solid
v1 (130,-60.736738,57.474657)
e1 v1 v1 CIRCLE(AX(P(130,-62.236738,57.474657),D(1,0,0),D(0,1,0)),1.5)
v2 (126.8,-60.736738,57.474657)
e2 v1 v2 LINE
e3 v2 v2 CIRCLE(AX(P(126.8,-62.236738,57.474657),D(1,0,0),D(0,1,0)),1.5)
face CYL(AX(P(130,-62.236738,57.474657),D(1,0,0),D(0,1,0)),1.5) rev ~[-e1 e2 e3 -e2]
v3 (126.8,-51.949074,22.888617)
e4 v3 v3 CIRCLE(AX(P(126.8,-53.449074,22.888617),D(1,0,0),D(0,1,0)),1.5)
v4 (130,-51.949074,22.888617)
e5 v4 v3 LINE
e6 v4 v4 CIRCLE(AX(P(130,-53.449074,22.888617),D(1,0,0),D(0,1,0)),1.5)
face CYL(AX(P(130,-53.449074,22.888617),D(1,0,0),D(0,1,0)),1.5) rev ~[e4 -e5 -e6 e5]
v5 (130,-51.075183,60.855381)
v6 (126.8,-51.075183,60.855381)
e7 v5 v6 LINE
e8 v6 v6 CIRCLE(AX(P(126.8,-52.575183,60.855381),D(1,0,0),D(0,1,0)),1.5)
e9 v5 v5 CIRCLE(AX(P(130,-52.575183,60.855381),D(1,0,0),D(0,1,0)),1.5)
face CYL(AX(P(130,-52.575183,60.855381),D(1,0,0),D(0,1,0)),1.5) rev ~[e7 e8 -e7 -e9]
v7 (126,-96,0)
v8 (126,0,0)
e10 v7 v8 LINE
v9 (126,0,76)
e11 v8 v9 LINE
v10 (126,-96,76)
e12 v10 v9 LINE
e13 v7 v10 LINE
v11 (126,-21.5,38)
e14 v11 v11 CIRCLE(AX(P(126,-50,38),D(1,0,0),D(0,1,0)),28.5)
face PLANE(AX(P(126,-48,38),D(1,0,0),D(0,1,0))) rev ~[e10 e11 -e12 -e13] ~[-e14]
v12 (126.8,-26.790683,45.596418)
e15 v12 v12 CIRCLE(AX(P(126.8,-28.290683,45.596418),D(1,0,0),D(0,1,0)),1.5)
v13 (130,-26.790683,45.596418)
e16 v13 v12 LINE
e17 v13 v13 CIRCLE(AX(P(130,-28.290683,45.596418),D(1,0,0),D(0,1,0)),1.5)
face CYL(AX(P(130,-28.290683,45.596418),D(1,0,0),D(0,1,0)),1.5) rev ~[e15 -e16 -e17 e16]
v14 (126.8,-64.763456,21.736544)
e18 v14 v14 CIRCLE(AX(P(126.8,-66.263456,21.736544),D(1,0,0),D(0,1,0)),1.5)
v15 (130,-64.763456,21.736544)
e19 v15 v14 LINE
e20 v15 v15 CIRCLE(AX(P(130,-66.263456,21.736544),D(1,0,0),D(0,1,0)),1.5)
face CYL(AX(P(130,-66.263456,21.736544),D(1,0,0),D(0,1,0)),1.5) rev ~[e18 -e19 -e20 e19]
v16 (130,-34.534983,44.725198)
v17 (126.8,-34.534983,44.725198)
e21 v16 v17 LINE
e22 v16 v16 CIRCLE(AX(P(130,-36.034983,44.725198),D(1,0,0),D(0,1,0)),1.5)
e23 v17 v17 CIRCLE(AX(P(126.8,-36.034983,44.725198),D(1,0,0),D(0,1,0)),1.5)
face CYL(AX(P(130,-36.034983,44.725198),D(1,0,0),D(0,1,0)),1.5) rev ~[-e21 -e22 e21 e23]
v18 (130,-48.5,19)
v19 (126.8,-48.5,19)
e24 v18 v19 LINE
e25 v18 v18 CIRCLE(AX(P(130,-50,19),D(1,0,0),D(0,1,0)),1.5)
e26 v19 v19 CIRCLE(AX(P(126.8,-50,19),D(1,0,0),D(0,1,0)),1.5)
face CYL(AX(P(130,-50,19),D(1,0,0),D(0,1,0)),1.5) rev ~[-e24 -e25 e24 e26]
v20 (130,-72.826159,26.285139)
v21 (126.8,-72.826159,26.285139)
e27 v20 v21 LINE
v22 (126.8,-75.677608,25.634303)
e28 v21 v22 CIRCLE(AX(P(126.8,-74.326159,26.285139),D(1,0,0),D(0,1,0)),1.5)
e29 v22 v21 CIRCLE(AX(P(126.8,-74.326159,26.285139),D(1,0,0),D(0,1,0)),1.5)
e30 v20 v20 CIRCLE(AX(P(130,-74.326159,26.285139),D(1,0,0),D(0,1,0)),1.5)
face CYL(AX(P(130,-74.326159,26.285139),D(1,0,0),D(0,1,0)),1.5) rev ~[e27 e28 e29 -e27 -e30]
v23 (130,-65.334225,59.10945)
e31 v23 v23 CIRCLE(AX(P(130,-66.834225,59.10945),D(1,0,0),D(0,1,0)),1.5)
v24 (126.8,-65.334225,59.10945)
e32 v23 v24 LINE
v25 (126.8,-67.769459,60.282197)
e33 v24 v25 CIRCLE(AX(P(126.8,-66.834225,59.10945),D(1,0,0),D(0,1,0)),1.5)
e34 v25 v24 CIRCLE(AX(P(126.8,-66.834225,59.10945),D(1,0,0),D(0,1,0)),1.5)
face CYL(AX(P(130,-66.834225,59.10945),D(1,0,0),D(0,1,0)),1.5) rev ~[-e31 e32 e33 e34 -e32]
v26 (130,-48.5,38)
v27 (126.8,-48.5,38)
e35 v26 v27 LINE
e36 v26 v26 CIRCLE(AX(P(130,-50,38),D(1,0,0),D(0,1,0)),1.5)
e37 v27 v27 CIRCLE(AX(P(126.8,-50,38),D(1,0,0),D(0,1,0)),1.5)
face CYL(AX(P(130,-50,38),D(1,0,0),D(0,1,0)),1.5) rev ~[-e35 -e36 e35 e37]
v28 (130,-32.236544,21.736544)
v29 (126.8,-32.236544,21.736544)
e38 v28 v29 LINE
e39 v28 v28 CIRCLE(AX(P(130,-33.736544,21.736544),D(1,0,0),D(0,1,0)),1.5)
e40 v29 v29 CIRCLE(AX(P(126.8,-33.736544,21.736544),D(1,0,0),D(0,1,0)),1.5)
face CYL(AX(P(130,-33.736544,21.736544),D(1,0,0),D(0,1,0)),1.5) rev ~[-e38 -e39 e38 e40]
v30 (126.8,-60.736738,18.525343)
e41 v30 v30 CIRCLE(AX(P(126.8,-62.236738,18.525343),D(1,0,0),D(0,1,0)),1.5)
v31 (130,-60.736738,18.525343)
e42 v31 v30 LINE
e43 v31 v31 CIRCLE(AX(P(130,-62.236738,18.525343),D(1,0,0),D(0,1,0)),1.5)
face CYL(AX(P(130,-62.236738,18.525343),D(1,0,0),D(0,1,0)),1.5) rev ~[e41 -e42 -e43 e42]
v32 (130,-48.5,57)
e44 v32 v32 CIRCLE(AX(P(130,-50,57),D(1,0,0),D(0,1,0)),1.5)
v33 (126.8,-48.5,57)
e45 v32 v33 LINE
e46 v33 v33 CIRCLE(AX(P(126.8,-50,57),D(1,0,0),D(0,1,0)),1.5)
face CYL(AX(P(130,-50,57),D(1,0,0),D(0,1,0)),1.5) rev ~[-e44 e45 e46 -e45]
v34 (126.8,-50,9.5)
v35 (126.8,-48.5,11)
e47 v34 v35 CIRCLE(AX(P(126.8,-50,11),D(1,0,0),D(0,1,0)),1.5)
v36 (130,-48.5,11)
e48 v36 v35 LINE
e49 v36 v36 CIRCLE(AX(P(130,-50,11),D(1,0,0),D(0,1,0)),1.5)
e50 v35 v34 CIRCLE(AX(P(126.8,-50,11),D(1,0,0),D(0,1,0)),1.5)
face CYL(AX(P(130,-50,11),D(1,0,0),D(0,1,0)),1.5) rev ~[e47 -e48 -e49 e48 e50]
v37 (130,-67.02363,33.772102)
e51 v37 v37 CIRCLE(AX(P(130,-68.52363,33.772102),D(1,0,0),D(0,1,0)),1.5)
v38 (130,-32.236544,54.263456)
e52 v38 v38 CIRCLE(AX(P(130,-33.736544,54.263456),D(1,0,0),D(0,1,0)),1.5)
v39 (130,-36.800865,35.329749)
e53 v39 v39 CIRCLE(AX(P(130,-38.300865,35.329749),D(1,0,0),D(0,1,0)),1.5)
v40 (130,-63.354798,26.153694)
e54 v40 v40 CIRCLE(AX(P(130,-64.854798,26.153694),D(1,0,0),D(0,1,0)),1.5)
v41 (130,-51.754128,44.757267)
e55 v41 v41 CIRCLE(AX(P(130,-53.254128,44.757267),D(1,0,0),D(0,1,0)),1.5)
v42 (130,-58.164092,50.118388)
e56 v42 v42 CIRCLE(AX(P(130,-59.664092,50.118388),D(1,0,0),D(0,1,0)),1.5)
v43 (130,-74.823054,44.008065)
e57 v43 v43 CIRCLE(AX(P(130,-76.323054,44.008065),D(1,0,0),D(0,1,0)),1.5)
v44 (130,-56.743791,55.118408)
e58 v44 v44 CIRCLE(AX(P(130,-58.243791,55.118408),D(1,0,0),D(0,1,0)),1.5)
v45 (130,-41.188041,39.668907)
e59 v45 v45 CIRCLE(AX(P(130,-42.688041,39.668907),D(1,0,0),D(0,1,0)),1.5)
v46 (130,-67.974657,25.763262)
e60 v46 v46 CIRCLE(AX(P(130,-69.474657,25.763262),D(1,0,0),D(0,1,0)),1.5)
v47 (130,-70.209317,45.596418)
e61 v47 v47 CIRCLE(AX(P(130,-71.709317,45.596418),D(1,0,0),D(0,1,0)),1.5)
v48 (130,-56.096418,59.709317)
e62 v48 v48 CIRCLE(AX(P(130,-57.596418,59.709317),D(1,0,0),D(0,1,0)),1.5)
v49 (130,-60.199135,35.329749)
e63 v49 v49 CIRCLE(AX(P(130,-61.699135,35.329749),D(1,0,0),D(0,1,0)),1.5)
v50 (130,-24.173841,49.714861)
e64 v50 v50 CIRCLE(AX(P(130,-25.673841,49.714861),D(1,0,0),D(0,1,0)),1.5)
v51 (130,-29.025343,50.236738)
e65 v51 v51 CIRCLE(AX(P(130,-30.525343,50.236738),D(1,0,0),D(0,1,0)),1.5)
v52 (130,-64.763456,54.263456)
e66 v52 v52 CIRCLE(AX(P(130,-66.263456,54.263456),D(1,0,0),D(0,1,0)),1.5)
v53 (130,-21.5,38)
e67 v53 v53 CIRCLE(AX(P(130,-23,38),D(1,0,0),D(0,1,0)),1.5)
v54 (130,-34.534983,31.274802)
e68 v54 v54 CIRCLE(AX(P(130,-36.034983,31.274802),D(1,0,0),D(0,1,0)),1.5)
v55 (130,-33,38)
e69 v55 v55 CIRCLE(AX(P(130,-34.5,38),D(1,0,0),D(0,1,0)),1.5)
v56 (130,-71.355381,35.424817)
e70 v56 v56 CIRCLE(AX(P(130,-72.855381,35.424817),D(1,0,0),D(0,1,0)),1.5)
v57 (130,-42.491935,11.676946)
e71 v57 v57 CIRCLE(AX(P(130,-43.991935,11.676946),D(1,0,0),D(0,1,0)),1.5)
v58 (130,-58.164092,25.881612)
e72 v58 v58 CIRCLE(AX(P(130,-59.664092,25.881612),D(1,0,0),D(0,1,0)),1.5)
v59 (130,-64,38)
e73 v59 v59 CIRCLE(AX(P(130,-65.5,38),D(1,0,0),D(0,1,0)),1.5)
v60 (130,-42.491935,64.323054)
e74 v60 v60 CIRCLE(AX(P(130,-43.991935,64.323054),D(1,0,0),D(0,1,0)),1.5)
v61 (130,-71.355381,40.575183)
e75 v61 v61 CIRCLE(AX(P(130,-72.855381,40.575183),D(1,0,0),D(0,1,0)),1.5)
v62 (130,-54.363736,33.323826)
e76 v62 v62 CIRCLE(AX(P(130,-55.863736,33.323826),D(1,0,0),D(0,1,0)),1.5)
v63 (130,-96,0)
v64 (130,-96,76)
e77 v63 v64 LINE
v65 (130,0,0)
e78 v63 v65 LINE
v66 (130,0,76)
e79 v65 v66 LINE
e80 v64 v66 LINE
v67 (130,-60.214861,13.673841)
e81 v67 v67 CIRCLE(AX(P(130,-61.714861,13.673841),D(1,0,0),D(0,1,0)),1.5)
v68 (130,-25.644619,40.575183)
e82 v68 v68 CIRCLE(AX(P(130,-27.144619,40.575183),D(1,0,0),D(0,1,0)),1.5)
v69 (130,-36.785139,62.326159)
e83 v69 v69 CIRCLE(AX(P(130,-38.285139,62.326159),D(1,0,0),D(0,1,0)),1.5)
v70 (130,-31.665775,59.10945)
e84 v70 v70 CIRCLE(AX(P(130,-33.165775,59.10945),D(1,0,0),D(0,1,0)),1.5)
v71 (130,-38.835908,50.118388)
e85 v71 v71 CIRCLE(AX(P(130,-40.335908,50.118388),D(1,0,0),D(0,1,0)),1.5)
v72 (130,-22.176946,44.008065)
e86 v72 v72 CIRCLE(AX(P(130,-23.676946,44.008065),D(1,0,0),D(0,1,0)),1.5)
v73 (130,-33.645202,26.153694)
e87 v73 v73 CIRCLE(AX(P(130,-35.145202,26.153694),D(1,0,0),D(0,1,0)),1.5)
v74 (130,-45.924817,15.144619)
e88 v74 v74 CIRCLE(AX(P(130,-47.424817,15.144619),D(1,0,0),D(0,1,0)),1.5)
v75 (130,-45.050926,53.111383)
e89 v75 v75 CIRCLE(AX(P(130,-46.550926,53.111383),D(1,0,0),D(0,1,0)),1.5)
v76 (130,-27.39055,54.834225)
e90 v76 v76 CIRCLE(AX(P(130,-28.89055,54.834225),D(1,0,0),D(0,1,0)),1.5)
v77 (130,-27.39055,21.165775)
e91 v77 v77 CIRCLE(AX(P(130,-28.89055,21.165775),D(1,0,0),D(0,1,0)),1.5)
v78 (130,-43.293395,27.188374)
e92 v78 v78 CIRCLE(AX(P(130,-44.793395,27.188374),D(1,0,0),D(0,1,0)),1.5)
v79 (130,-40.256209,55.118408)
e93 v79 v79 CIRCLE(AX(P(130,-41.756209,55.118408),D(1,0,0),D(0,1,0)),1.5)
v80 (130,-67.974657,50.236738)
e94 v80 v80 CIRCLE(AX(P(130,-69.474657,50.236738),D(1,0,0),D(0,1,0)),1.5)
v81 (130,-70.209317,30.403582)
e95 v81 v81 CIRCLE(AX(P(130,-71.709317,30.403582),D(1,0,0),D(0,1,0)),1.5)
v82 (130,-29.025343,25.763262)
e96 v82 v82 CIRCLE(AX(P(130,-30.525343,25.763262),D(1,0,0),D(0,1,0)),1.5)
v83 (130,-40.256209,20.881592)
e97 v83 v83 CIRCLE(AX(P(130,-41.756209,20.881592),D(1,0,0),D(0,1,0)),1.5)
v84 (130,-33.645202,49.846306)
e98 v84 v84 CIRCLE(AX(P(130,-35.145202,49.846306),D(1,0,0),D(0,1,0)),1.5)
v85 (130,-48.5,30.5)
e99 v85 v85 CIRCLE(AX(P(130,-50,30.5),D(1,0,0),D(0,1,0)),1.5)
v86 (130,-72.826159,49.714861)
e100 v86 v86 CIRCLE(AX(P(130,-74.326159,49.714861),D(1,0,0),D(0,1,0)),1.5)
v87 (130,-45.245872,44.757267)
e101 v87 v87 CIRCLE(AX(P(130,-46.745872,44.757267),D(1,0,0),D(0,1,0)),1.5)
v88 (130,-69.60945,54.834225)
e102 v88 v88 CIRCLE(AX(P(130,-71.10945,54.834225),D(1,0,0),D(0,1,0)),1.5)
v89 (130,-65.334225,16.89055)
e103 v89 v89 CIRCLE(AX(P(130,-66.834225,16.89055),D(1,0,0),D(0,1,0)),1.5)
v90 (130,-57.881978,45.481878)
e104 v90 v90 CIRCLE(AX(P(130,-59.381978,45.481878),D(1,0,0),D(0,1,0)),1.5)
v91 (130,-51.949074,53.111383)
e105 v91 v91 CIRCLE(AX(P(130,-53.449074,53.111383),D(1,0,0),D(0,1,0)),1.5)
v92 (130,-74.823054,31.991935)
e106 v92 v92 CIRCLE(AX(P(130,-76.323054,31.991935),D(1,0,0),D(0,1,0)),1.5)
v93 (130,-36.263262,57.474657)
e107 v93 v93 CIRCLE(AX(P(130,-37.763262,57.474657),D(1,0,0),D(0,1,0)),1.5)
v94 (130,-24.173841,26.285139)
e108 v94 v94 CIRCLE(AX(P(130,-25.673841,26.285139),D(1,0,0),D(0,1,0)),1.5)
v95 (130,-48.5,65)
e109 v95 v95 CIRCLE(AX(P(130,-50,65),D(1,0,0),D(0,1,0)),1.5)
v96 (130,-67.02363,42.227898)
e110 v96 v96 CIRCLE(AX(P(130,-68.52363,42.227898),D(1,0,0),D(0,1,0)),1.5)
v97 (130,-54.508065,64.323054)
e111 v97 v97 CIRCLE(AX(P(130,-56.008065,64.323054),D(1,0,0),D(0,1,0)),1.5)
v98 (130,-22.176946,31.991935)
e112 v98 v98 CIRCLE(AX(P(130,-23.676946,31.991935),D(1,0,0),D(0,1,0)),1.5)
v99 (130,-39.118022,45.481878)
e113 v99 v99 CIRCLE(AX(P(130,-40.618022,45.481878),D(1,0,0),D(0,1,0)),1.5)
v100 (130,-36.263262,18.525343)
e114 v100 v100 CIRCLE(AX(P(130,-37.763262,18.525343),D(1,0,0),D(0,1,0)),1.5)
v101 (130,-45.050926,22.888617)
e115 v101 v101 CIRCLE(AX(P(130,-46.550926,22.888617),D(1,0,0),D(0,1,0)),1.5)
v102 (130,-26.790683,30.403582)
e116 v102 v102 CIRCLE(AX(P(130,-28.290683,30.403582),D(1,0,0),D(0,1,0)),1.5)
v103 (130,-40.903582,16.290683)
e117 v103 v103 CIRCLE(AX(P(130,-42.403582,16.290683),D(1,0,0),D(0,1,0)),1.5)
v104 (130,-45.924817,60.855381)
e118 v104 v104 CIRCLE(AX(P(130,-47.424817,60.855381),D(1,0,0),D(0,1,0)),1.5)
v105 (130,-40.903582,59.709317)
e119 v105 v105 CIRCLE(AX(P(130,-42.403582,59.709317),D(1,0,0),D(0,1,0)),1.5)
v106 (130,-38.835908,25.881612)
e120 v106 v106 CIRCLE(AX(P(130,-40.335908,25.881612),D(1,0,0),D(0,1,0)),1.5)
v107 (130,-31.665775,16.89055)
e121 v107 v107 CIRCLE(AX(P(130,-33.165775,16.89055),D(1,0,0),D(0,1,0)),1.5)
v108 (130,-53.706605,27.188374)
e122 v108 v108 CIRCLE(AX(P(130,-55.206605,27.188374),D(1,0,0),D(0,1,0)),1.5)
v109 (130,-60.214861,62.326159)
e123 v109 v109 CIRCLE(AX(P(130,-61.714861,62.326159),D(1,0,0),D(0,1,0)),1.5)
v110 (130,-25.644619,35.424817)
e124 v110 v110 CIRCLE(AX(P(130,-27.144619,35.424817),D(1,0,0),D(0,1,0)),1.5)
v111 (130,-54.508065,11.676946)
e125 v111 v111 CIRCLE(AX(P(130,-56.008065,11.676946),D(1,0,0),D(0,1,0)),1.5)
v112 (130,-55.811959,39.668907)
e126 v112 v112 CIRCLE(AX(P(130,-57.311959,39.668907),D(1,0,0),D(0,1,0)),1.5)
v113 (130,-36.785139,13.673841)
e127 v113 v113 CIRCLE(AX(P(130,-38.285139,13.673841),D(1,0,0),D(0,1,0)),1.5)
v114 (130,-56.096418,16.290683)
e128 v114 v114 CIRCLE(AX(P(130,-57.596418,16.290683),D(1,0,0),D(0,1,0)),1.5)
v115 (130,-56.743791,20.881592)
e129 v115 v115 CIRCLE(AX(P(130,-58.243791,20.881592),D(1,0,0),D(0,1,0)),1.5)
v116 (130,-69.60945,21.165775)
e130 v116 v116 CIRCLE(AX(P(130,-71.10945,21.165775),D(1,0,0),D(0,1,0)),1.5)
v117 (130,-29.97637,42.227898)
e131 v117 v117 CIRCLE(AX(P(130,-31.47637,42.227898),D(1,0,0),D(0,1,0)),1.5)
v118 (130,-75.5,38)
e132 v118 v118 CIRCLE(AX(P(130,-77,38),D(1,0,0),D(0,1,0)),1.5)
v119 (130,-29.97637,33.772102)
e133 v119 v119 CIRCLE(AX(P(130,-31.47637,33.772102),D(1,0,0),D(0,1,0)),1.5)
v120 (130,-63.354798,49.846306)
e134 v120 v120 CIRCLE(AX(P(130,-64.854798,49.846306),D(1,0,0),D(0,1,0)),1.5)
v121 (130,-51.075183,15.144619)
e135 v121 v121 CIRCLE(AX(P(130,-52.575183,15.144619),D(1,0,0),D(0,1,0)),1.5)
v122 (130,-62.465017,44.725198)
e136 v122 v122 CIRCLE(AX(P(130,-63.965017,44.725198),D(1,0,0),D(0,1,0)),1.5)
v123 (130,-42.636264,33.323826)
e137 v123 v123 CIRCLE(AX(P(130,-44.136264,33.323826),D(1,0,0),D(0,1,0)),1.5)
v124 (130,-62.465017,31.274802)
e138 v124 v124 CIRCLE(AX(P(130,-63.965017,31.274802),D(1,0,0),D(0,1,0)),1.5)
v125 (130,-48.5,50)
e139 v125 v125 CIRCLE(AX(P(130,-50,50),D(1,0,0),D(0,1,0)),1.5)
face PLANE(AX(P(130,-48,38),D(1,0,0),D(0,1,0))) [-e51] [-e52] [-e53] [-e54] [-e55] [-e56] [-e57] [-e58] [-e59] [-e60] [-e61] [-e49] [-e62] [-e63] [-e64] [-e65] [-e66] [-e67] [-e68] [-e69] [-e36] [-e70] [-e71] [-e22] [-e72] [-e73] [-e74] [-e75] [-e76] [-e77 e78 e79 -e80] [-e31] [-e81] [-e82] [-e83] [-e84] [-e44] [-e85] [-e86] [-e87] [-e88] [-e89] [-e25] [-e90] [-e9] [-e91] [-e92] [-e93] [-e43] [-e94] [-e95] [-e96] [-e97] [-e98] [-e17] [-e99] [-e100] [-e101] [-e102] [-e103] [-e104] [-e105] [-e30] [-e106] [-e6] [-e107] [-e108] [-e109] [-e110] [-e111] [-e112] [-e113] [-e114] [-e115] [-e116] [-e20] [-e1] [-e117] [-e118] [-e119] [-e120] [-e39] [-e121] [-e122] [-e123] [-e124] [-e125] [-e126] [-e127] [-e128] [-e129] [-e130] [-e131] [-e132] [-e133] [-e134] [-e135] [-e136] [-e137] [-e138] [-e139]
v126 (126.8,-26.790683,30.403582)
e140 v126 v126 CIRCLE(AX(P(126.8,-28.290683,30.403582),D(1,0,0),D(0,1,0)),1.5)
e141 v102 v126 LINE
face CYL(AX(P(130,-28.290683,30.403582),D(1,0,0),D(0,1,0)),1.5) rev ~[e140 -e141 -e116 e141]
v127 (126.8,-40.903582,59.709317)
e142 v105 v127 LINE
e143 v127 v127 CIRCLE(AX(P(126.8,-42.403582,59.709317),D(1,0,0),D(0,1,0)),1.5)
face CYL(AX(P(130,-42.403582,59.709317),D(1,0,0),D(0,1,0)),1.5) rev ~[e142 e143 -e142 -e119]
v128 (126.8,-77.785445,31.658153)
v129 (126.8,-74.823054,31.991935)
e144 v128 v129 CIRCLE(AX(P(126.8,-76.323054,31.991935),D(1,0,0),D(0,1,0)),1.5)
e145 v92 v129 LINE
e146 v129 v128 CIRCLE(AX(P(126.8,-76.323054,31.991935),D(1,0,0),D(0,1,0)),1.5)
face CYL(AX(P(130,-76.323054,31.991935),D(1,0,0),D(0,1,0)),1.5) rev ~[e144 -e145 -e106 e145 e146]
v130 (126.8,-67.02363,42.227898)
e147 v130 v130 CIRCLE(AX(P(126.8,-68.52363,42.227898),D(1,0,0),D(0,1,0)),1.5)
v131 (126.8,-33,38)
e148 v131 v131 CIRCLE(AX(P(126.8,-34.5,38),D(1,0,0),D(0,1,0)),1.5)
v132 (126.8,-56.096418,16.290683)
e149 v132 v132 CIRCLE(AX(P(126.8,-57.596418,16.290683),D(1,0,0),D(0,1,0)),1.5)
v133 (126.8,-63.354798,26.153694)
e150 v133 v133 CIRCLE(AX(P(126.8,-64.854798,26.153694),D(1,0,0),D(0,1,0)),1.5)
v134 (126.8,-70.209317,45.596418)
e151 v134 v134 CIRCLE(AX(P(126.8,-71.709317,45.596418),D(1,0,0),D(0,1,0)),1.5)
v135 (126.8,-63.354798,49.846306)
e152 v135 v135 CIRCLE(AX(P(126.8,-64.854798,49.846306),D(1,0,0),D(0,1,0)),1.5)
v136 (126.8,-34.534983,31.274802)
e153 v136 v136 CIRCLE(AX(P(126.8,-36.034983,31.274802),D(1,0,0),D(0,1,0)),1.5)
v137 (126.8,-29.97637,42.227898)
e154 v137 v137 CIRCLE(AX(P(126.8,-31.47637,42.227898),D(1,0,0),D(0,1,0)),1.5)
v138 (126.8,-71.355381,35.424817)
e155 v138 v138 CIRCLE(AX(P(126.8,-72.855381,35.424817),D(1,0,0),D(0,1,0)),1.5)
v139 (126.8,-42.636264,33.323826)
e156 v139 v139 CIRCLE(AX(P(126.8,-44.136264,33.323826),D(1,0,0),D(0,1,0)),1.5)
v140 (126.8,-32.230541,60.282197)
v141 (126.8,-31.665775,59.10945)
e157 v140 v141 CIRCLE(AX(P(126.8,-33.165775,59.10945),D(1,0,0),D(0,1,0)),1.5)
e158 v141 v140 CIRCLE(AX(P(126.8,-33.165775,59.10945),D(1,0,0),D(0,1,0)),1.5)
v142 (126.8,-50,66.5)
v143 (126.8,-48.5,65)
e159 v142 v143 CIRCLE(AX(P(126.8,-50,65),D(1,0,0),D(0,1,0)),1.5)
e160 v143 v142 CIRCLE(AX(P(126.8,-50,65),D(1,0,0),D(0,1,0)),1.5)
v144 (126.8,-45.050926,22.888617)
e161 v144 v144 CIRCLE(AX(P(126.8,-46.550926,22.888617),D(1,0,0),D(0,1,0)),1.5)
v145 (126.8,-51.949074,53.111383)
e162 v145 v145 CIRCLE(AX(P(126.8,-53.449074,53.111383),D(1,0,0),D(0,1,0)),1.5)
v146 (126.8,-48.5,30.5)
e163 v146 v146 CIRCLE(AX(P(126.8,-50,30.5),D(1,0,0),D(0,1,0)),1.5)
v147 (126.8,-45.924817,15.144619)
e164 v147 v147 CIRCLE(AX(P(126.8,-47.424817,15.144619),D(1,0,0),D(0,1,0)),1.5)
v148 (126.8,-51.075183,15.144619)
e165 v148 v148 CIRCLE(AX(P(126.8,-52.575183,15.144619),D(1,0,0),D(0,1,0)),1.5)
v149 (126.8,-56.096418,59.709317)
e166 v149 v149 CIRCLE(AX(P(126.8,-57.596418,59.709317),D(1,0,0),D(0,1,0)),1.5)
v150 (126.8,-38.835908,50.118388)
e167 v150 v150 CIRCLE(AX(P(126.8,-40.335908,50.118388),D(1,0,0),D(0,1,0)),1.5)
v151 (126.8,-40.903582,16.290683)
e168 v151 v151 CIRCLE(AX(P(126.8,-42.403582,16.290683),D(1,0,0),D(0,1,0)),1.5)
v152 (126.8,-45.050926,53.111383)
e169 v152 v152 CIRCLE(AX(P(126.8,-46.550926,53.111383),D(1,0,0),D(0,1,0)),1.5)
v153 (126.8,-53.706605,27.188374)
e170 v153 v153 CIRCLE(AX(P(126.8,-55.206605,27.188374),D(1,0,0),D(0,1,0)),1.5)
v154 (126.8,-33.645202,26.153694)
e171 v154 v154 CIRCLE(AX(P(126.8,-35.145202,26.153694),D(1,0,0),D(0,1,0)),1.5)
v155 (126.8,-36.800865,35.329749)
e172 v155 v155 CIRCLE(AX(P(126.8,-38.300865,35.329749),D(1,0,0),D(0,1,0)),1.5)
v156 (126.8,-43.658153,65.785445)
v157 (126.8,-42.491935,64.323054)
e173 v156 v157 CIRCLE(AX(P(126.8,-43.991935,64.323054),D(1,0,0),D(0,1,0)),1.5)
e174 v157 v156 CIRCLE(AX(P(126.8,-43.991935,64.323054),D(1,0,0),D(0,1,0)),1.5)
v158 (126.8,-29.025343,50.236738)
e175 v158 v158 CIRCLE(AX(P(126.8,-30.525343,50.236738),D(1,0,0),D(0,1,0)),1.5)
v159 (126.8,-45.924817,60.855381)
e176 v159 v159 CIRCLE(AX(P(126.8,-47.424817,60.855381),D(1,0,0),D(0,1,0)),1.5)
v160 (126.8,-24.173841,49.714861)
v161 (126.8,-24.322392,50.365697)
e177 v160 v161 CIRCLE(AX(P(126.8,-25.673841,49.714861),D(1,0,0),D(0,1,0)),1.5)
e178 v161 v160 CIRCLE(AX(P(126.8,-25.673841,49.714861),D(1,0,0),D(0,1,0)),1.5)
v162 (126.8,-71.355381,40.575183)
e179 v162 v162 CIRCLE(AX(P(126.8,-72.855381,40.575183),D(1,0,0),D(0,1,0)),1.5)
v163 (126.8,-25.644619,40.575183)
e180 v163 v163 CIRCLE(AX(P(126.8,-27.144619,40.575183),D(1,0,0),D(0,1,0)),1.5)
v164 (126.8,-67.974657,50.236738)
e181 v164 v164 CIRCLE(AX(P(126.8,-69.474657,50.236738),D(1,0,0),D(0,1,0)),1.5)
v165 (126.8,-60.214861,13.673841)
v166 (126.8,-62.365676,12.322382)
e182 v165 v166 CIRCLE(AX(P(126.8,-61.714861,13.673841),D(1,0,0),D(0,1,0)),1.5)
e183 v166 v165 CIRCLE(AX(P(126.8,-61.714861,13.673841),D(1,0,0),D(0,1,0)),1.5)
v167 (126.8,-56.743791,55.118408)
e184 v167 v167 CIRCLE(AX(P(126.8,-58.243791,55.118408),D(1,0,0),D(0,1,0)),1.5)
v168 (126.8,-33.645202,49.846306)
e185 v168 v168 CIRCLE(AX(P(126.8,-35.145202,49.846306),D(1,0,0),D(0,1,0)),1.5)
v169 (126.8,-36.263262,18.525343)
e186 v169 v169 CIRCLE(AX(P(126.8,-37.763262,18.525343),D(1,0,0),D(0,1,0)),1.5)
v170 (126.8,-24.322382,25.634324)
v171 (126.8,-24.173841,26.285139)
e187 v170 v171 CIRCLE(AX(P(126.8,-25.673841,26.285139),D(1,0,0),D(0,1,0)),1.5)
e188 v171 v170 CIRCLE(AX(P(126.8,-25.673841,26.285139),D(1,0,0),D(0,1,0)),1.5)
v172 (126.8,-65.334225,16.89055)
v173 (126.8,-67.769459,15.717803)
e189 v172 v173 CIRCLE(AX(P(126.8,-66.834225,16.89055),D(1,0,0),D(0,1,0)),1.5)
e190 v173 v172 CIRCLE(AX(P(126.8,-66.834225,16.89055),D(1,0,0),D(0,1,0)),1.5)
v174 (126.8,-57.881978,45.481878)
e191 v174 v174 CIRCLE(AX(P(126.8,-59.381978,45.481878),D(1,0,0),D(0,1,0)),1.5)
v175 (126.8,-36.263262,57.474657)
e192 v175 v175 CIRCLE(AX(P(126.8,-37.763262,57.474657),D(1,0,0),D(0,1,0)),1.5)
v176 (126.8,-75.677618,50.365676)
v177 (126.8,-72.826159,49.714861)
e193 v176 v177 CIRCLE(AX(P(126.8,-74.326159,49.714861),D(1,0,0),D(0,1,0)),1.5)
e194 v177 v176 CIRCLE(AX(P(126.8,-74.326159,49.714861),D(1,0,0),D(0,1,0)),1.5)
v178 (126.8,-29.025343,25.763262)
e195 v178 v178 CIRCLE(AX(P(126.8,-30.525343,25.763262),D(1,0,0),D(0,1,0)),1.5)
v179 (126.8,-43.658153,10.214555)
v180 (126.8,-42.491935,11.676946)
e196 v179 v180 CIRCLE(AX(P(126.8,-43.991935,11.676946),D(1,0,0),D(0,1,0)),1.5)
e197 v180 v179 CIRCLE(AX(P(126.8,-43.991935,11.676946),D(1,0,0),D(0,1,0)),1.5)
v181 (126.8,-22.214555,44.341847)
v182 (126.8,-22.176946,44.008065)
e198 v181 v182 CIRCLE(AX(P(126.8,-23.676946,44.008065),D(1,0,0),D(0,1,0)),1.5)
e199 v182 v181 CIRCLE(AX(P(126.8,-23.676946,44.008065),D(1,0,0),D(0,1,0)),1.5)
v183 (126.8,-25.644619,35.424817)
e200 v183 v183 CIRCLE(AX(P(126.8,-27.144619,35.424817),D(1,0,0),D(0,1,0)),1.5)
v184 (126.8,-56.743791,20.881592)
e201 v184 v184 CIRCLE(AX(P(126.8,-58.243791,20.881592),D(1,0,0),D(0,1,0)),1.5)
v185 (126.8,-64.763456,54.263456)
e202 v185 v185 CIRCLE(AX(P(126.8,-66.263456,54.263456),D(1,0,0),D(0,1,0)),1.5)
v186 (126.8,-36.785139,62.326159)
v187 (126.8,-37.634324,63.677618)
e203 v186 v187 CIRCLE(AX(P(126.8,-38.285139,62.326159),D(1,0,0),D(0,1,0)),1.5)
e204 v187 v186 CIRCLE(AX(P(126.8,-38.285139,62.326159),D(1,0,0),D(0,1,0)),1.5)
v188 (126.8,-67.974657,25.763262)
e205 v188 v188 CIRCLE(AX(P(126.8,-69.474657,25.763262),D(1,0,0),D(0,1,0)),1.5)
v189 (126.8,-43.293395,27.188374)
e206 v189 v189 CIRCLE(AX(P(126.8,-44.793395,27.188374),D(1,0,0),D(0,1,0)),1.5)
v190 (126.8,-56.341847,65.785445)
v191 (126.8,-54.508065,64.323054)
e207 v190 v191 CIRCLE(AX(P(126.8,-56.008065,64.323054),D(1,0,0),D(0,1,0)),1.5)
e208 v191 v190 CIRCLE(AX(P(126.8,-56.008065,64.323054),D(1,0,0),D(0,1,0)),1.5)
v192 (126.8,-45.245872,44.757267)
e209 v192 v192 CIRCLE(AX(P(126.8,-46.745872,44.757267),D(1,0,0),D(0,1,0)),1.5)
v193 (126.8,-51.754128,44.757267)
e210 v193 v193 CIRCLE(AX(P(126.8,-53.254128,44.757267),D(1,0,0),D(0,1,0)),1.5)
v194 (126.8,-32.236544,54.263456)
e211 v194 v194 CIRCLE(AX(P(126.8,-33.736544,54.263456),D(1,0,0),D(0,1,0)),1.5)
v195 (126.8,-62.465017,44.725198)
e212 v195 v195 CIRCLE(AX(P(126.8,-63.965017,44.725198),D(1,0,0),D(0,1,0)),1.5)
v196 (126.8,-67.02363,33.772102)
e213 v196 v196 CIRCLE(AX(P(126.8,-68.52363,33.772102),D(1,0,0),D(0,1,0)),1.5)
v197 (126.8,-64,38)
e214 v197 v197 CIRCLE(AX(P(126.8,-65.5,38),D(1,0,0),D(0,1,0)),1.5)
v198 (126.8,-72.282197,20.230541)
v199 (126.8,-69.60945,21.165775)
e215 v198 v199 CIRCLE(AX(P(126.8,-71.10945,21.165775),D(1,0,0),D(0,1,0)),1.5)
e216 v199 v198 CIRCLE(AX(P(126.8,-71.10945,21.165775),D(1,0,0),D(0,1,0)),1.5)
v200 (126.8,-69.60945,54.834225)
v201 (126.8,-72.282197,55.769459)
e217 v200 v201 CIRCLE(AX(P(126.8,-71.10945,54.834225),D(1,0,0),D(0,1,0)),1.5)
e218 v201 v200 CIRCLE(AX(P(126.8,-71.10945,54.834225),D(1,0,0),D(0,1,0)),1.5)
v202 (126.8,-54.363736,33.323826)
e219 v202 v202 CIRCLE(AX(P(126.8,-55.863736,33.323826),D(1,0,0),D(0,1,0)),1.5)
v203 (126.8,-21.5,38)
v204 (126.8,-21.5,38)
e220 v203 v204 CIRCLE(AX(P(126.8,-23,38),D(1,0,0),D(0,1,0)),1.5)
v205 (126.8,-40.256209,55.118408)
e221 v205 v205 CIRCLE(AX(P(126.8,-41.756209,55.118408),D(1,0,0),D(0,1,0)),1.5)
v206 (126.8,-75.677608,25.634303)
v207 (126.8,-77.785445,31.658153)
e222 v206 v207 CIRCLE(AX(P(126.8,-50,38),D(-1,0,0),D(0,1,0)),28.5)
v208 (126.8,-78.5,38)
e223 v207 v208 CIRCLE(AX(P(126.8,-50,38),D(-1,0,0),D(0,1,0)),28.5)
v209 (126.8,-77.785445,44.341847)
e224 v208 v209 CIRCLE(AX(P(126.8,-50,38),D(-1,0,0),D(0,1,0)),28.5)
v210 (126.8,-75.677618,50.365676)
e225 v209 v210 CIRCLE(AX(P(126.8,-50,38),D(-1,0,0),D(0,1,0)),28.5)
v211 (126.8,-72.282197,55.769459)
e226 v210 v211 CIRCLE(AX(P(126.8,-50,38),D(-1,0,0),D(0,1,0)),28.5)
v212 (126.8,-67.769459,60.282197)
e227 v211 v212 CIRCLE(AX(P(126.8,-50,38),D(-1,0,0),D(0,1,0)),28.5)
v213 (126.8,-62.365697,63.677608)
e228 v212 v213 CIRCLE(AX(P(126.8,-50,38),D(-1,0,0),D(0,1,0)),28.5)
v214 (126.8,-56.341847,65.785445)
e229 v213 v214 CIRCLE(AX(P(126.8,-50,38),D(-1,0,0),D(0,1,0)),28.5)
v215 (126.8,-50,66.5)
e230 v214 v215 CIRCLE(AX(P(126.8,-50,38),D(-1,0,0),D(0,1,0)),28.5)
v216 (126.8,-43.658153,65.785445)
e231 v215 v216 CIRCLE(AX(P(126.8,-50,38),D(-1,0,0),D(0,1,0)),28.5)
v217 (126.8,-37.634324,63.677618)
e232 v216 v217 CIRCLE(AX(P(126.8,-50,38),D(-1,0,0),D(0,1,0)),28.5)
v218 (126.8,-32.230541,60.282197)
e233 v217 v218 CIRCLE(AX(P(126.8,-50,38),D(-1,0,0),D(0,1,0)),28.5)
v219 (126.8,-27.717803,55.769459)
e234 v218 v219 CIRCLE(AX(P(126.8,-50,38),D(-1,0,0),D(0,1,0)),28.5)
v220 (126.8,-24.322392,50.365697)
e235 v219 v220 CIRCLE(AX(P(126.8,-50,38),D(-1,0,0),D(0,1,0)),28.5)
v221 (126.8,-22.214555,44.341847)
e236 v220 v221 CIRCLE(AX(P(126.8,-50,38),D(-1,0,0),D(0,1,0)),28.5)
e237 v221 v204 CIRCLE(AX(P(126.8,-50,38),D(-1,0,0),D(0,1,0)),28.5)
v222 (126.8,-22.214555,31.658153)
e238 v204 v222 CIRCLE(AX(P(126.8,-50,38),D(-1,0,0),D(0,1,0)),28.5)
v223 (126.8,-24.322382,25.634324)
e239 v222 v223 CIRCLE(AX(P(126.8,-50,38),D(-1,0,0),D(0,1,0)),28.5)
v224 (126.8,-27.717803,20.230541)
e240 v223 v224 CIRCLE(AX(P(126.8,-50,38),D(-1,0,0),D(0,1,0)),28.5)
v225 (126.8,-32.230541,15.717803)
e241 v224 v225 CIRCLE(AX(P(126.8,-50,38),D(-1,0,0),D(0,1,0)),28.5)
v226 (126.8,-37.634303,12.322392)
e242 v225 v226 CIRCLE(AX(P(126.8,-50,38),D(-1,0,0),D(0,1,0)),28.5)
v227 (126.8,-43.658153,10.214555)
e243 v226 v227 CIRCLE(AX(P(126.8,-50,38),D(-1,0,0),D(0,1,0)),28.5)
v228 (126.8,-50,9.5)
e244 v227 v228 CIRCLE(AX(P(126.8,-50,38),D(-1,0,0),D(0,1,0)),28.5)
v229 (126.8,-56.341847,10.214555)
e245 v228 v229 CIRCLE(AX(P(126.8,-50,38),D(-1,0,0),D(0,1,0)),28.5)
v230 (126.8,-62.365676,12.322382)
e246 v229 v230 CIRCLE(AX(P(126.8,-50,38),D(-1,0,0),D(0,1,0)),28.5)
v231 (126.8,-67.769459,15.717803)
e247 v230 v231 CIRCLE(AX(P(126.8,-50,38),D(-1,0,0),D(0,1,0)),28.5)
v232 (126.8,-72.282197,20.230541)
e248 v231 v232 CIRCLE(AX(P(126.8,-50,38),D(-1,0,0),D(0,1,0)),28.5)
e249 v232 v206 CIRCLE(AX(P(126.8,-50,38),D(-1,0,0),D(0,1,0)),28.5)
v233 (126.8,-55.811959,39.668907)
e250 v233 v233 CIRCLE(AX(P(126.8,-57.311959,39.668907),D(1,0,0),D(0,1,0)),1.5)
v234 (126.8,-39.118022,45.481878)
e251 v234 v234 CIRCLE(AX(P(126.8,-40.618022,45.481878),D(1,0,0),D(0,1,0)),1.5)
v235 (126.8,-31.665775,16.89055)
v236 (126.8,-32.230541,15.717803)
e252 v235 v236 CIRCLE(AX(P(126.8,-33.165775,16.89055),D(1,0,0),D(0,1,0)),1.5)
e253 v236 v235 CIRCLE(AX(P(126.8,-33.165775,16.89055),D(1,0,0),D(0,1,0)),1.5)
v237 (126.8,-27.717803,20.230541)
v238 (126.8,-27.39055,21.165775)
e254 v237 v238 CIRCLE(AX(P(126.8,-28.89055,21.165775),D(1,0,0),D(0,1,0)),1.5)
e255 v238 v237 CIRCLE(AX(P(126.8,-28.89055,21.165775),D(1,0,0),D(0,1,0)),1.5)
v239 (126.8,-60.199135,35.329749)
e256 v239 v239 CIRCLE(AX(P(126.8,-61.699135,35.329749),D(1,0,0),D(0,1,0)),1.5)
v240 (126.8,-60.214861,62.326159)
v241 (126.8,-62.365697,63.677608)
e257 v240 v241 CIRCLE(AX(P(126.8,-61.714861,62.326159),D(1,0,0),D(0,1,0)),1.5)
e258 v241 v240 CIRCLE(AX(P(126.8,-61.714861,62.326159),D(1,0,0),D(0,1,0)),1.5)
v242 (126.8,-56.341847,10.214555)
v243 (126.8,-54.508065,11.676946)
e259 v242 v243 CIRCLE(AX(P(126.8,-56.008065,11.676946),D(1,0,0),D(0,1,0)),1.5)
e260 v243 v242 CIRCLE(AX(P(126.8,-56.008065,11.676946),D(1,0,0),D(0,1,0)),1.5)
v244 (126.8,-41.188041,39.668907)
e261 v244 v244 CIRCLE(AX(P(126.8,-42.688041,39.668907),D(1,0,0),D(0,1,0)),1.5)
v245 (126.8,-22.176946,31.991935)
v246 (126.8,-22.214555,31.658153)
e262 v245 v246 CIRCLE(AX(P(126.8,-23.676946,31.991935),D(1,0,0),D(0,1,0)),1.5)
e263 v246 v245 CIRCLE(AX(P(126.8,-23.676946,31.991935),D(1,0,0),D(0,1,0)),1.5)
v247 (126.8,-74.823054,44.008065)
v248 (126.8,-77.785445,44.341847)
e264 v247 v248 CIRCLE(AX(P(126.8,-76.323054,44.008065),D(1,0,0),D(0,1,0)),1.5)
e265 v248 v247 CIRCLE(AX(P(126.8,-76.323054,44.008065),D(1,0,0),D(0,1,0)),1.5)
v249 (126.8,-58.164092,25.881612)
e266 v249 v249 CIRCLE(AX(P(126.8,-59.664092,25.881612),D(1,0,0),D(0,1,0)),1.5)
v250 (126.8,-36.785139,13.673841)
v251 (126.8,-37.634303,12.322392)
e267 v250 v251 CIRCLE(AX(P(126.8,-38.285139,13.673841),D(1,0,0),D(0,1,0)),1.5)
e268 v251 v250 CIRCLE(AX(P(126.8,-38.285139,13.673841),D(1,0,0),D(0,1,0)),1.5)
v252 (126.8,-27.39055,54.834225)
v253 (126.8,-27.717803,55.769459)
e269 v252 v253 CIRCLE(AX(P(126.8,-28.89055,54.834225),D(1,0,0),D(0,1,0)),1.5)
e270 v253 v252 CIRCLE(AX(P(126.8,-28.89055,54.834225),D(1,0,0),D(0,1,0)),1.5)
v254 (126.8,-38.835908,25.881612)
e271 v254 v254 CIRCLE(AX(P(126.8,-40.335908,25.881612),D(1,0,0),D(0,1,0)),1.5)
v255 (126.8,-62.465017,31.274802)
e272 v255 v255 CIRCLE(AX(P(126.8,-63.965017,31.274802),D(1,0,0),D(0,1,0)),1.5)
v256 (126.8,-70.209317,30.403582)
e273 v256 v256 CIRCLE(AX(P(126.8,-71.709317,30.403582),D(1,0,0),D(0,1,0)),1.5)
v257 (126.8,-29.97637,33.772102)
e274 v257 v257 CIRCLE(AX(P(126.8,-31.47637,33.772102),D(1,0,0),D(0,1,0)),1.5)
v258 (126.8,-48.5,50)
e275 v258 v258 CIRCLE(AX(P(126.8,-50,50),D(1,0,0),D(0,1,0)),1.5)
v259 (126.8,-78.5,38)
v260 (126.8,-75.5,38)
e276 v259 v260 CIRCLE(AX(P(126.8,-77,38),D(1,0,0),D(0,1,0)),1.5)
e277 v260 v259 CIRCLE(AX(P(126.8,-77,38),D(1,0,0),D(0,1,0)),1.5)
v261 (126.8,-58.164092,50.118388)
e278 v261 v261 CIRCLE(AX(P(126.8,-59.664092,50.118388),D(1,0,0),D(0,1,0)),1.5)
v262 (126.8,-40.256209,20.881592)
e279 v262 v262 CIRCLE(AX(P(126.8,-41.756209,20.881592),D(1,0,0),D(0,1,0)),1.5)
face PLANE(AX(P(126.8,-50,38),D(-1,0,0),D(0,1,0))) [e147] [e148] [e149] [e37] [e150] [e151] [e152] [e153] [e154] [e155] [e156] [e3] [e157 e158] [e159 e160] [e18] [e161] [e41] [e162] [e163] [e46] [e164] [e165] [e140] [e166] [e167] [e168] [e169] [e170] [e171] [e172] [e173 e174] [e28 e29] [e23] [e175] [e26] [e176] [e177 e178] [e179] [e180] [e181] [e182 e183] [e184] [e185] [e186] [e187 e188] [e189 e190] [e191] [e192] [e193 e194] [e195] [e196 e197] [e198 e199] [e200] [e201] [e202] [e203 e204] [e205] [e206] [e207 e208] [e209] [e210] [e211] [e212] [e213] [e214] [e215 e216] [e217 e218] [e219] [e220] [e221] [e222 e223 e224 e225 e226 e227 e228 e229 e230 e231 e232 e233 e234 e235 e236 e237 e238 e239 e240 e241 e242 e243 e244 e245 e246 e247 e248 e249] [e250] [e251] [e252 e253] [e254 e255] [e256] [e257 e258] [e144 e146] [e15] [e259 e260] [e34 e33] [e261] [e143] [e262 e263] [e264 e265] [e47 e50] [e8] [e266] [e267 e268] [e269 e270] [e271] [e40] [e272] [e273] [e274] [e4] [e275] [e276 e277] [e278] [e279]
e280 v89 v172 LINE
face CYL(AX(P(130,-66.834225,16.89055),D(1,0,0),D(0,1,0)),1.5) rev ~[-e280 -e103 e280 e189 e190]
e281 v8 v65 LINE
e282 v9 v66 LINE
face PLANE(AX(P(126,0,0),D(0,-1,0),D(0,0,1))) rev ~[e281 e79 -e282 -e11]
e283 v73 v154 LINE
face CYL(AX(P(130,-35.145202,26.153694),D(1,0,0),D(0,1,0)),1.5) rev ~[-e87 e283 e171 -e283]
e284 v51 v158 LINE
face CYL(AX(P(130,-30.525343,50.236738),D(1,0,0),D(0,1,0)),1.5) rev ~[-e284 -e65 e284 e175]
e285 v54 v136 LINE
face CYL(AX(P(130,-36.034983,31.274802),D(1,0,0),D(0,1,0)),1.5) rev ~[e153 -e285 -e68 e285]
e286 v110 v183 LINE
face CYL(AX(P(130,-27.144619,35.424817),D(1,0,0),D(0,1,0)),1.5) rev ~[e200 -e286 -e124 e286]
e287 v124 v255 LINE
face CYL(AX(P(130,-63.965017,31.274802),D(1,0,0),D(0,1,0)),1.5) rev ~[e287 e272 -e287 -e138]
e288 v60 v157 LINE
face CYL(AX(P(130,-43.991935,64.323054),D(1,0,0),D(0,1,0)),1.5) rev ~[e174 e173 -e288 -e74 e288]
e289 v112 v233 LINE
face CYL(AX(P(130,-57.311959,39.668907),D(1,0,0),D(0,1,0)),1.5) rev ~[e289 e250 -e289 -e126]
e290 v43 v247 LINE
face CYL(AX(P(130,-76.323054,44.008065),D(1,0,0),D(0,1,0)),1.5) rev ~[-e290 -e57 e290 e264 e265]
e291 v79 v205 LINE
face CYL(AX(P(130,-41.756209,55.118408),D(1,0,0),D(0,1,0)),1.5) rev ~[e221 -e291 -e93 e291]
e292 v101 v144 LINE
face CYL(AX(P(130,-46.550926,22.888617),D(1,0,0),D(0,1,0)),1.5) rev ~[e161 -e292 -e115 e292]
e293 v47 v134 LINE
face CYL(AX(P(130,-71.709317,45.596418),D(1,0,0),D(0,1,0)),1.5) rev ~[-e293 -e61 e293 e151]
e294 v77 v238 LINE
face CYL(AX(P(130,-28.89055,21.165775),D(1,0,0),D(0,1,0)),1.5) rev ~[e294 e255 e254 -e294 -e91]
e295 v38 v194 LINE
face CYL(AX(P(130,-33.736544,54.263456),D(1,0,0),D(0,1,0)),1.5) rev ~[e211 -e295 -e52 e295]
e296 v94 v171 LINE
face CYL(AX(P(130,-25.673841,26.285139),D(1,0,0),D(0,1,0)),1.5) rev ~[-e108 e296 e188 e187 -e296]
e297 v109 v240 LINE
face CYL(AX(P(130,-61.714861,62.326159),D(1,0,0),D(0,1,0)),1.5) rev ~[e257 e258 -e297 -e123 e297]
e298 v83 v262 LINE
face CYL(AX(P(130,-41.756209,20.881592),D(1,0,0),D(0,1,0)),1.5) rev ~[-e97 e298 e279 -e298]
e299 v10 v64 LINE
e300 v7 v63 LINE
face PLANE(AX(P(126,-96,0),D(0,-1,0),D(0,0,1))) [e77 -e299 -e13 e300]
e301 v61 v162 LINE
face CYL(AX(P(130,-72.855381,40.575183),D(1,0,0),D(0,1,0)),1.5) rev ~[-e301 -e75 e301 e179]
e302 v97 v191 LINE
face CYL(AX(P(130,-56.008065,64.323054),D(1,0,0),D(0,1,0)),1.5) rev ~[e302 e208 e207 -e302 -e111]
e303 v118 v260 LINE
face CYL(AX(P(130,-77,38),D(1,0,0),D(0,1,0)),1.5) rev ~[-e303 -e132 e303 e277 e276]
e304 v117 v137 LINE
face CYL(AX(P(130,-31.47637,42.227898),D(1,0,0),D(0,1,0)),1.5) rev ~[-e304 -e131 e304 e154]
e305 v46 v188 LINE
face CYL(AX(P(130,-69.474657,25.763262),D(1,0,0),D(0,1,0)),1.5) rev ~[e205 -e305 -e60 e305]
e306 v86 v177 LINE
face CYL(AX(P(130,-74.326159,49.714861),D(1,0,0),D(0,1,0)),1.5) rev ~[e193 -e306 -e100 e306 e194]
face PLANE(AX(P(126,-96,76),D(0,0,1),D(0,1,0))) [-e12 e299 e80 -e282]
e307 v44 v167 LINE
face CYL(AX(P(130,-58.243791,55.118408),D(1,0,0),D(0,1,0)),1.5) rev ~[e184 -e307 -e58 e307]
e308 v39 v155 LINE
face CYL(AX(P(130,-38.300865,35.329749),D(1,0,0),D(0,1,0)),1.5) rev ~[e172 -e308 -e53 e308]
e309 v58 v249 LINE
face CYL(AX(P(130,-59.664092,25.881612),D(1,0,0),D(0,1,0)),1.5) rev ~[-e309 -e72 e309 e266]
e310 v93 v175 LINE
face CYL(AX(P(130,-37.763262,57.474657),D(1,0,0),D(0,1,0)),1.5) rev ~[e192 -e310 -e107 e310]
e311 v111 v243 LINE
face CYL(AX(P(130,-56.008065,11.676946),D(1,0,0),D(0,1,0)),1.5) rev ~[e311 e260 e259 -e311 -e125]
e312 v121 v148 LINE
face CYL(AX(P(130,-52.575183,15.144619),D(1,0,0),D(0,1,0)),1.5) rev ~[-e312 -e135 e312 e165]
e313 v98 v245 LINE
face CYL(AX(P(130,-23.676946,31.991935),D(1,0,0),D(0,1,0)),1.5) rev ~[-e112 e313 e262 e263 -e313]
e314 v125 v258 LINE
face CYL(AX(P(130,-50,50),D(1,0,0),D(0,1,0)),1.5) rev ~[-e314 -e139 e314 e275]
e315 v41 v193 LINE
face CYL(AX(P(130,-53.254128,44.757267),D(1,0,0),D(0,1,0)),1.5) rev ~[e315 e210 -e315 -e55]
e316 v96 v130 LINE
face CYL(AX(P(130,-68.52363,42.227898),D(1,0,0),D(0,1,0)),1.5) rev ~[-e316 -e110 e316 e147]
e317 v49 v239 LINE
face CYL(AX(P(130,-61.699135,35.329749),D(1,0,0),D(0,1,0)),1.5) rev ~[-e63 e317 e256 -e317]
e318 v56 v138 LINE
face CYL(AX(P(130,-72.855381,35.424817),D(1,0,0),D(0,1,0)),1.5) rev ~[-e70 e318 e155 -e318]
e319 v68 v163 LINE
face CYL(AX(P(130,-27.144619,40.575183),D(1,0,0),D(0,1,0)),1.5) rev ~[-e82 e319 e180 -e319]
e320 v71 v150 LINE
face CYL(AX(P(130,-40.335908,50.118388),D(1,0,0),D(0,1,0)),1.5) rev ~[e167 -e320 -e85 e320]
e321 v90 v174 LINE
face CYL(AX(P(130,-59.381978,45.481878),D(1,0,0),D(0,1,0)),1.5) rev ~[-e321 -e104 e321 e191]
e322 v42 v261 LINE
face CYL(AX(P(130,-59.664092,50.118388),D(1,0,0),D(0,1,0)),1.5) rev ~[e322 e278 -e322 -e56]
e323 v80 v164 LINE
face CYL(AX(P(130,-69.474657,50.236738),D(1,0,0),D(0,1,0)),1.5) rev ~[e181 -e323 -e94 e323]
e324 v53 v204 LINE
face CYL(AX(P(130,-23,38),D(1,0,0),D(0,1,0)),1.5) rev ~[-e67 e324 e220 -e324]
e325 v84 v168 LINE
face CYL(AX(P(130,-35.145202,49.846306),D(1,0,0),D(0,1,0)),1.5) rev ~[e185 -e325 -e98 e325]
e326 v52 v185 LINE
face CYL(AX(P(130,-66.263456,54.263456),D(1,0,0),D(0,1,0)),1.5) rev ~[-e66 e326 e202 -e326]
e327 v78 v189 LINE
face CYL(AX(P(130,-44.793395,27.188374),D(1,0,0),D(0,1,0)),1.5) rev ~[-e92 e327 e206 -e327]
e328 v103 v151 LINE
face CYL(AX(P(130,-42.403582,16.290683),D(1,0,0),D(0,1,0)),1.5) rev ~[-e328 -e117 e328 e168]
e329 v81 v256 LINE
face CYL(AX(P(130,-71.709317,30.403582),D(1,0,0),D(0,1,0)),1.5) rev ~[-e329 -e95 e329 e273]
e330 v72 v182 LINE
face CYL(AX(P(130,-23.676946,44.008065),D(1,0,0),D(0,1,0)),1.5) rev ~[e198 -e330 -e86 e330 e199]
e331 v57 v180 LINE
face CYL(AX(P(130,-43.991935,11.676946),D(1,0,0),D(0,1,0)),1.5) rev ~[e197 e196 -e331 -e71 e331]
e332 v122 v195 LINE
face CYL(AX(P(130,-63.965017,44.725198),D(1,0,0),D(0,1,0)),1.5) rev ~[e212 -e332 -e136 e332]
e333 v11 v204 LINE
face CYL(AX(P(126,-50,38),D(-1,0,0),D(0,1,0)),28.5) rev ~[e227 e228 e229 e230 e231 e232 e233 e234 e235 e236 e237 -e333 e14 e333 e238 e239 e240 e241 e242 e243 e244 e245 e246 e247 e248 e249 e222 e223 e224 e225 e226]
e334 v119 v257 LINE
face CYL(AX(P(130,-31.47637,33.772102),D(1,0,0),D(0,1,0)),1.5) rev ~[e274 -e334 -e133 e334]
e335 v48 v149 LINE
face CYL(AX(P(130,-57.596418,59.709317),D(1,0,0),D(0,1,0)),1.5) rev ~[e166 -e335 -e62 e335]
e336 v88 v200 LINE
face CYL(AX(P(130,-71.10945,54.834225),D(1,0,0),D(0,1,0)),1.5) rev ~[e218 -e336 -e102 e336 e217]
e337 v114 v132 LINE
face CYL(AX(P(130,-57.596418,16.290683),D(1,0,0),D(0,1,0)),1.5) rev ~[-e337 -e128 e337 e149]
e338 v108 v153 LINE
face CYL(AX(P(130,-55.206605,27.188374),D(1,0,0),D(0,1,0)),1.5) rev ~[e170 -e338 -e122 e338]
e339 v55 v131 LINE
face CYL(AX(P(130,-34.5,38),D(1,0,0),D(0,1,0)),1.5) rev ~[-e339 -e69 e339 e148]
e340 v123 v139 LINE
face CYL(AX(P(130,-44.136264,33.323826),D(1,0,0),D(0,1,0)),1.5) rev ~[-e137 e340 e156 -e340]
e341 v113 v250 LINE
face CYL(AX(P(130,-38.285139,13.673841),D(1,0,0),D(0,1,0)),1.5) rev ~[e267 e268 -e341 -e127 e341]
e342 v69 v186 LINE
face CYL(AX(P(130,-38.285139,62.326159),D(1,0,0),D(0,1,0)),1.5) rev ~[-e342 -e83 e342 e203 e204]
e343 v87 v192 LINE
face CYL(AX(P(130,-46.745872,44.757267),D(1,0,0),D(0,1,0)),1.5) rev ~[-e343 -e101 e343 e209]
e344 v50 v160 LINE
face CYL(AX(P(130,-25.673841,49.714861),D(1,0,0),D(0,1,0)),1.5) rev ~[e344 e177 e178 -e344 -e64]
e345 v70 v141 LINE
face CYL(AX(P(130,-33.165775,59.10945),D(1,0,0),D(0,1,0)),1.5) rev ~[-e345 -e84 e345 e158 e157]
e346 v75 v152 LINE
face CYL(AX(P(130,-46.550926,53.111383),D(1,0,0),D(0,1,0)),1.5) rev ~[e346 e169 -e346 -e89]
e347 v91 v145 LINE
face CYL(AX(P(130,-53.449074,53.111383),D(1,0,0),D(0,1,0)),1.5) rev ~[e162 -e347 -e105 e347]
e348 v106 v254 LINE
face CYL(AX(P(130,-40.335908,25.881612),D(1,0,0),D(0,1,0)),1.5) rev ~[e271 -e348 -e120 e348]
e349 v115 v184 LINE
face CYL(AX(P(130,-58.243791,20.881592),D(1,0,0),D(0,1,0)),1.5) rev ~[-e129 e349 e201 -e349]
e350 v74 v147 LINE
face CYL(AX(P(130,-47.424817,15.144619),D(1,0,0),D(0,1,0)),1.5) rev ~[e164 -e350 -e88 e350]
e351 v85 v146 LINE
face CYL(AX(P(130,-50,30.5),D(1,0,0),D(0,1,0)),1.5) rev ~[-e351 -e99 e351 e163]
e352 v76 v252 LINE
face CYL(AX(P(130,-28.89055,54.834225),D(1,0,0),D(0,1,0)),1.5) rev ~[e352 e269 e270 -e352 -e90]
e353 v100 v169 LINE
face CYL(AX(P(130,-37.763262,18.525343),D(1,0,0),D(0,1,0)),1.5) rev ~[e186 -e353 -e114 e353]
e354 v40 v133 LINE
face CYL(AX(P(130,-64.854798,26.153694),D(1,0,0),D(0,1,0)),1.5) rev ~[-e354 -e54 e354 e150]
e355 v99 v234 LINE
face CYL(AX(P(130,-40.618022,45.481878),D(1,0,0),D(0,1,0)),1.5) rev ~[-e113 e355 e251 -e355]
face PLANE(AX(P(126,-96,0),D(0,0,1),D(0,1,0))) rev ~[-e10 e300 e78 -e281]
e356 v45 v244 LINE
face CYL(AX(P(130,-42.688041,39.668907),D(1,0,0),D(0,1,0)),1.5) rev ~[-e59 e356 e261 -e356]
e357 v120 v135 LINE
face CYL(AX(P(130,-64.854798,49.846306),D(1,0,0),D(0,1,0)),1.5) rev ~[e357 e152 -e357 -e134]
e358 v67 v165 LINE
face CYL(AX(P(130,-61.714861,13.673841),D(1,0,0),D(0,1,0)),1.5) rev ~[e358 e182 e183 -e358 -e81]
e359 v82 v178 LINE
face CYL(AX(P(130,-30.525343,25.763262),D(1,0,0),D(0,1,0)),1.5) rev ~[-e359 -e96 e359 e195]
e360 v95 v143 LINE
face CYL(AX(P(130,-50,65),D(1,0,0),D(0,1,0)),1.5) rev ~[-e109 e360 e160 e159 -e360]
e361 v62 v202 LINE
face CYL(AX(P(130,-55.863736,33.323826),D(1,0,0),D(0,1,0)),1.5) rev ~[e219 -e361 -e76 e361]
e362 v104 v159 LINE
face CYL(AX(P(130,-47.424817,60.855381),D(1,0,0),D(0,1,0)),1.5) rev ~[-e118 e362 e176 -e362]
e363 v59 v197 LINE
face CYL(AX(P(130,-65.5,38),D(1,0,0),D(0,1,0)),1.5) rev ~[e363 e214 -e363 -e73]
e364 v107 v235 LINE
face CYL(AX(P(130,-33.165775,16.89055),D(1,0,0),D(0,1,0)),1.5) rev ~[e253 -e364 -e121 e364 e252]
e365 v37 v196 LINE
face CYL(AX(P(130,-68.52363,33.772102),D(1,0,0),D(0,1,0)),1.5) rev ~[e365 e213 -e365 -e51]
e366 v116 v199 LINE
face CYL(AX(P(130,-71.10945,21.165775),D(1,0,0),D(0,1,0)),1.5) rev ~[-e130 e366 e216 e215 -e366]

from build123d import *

# Parameters (mm, degrees)
SKETCH009_W     = 96
SKETCH009_H     = 76
PAD004_DEPTH    = 4
SKETCH012_R     = 28.5
POCKET002_DEPTH = 0.8
SKETCH010_R     = 1.5
HOLE003_DEPTH   = 4.001


with BuildPart() as part:
    # Sketch009 → Pad004 (new body)
    with BuildSketch(Plane.YZ.offset(126)):
        with Locations((-48, 38)):
            Rectangle(SKETCH009_W, SKETCH009_H)
    extrude(amount=PAD004_DEPTH)

    # Sketch012 (on Face4 of Hole003) → Pocket002 (cut)
    with BuildSketch(Plane(origin=(126, 0, 0), x_dir=(0, 1, 0), z_dir=(-1, 0, 0))):
        with Locations((-50, -38)):
            Circle(SKETCH012_R)
    extrude(amount=-POCKET002_DEPTH, mode=Mode.SUBTRACT)

    # Sketch010 (on Face6 of Pad004) → Hole003 (cut, through all)
    with BuildSketch(Plane.YZ.offset(130)):
        with Locations((-50, 65)):
            Circle(SKETCH010_R)
        with Locations((-43.9919347832, 64.3230536289)):
            Circle(SKETCH010_R)
        with Locations((-38.2851390438, 62.3261594334)):
            Circle(SKETCH010_R)
        with Locations((-33.1657753498, 59.1094500266)):
            Circle(SKETCH010_R)
        with Locations((-28.8905499734, 54.8342246502)):
            Circle(SKETCH010_R)
        with Locations((-25.6738405666, 49.7148609562)):
            Circle(SKETCH010_R)
        with Locations((-23.6769463711, 44.0080652168)):
            Circle(SKETCH010_R)
        with Locations((-23, 38)):
            Circle(SKETCH010_R)
        with Locations((-23.6769463711, 31.9919347832)):
            Circle(SKETCH010_R)
        with Locations((-25.6738405666, 26.2851390438)):
            Circle(SKETCH010_R)
        with Locations((-28.8905499734, 21.1657753498)):
            Circle(SKETCH010_R)
        with Locations((-33.1657753498, 16.8905499734)):
            Circle(SKETCH010_R)
        with Locations((-38.2851390438, 13.6738405666)):
            Circle(SKETCH010_R)
        with Locations((-43.9919347832, 11.6769463711)):
            Circle(SKETCH010_R)
        with Locations((-50, 11)):
            Circle(SKETCH010_R)
        with Locations((-56.0080652168, 11.6769463711)):
            Circle(SKETCH010_R)
        with Locations((-61.7148609562, 13.6738405666)):
            Circle(SKETCH010_R)
        with Locations((-66.8342246502, 16.8905499734)):
            Circle(SKETCH010_R)
        with Locations((-71.1094500266, 21.1657753498)):
            Circle(SKETCH010_R)
        with Locations((-74.3261594334, 26.2851390438)):
            Circle(SKETCH010_R)
        with Locations((-76.3230536289, 31.9919347832)):
            Circle(SKETCH010_R)
        with Locations((-77, 38)):
            Circle(SKETCH010_R)
        with Locations((-76.3230536289, 44.0080652168)):
            Circle(SKETCH010_R)
        with Locations((-74.3261594334, 49.7148609562)):
            Circle(SKETCH010_R)
        with Locations((-71.1094500266, 54.8342246502)):
            Circle(SKETCH010_R)
        with Locations((-66.8342246502, 59.1094500266)):
            Circle(SKETCH010_R)
        with Locations((-61.7148609562, 62.3261594334)):
            Circle(SKETCH010_R)
        with Locations((-56.0080652168, 64.3230536289)):
            Circle(SKETCH010_R)
        with Locations((-47.4248170496, 60.8553808275)):
            Circle(SKETCH010_R)
        with Locations((-42.403581575, 59.7093165971)):
            Circle(SKETCH010_R)
        with Locations((-37.7632622401, 57.4746565823)):
            Circle(SKETCH010_R)
        with Locations((-33.7365440327, 54.2634559673)):
            Circle(SKETCH010_R)
        with Locations((-30.5253434177, 50.2367377599)):
            Circle(SKETCH010_R)
        with Locations((-28.2906834029, 45.596418425)):
            Circle(SKETCH010_R)
        with Locations((-27.1446191725, 40.5751829504)):
            Circle(SKETCH010_R)
        with Locations((-27.1446191725, 35.4248170496)):
            Circle(SKETCH010_R)
        with Locations((-28.2906834029, 30.403581575)):
            Circle(SKETCH010_R)
        with Locations((-30.5253434177, 25.7632622401)):
            Circle(SKETCH010_R)
        with Locations((-33.7365440327, 21.7365440327)):
            Circle(SKETCH010_R)
        with Locations((-37.7632622401, 18.5253434177)):
            Circle(SKETCH010_R)
        with Locations((-42.403581575, 16.2906834029)):
            Circle(SKETCH010_R)
        with Locations((-47.4248170496, 15.1446191725)):
            Circle(SKETCH010_R)
        with Locations((-52.5751829504, 15.1446191725)):
            Circle(SKETCH010_R)
        with Locations((-57.596418425, 16.2906834029)):
            Circle(SKETCH010_R)
        with Locations((-62.2367377599, 18.5253434177)):
            Circle(SKETCH010_R)
        with Locations((-66.2634559673, 21.7365440327)):
            Circle(SKETCH010_R)
        with Locations((-69.4746565823, 25.7632622401)):
            Circle(SKETCH010_R)
        with Locations((-71.7093165971, 30.403581575)):
            Circle(SKETCH010_R)
        with Locations((-72.8553808275, 35.4248170496)):
            Circle(SKETCH010_R)
        with Locations((-72.8553808275, 40.5751829504)):
            Circle(SKETCH010_R)
        with Locations((-71.7093165971, 45.596418425)):
            Circle(SKETCH010_R)
        with Locations((-69.4746565823, 50.2367377599)):
            Circle(SKETCH010_R)
        with Locations((-66.2634559673, 54.2634559673)):
            Circle(SKETCH010_R)
        with Locations((-62.2367377599, 57.4746565823)):
            Circle(SKETCH010_R)
        with Locations((-57.596418425, 59.7093165971)):
            Circle(SKETCH010_R)
        with Locations((-52.5751829504, 60.8553808275)):
            Circle(SKETCH010_R)
        with Locations((-50, 57)):
            Circle(SKETCH010_R)
        with Locations((-41.7562089568, 55.1184084901)):
            Circle(SKETCH010_R)
        with Locations((-35.1452018331, 49.8463062353)):
            Circle(SKETCH010_R)
        with Locations((-31.4763696685, 42.2278977452)):
            Circle(SKETCH010_R)
        with Locations((-31.4763696685, 33.7721022548)):
            Circle(SKETCH010_R)
        with Locations((-35.1452018331, 26.1536937647)):
            Circle(SKETCH010_R)
        with Locations((-41.7562089568, 20.8815915099)):
            Circle(SKETCH010_R)
        with Locations((-50, 19)):
            Circle(SKETCH010_R)
        with Locations((-58.2437910432, 20.8815915099)):
            Circle(SKETCH010_R)
        with Locations((-64.8547981669, 26.1536937647)):
            Circle(SKETCH010_R)
        with Locations((-68.5236303315, 33.7721022548)):
            Circle(SKETCH010_R)
        with Locations((-68.5236303315, 42.2278977452)):
            Circle(SKETCH010_R)
        with Locations((-64.8547981669, 49.8463062353)):
            Circle(SKETCH010_R)
        with Locations((-58.2437910432, 55.1184084901)):
            Circle(SKETCH010_R)
        with Locations((-46.5509255237, 53.1113826388)):
            Circle(SKETCH010_R)
        with Locations((-40.3359080712, 50.1183879783)):
            Circle(SKETCH010_R)
        with Locations((-36.0349825475, 44.7251979563)):
            Circle(SKETCH010_R)
        with Locations((-34.5, 38)):
            Circle(SKETCH010_R)
        with Locations((-36.0349825475, 31.2748020437)):
            Circle(SKETCH010_R)
        with Locations((-40.3359080712, 25.8816120217)):
            Circle(SKETCH010_R)
        with Locations((-46.5509255237, 22.8886173612)):
            Circle(SKETCH010_R)
        with Locations((-53.4490744763, 22.8886173612)):
            Circle(SKETCH010_R)
        with Locations((-59.6640919288, 25.8816120217)):
            Circle(SKETCH010_R)
        with Locations((-63.9650174525, 31.2748020437)):
            Circle(SKETCH010_R)
        with Locations((-65.5, 38)):
            Circle(SKETCH010_R)
        with Locations((-63.9650174525, 44.7251979563)):
            Circle(SKETCH010_R)
        with Locations((-59.6640919288, 50.1183879783)):
            Circle(SKETCH010_R)
        with Locations((-53.4490744763, 53.1113826388)):
            Circle(SKETCH010_R)
        with Locations((-50, 50)):
            Circle(SKETCH010_R)
        with Locations((-40.6180222104, 45.4818776223)):
            Circle(SKETCH010_R)
        with Locations((-38.3008650538, 35.3297487925)):
            Circle(SKETCH010_R)
        with Locations((-44.7933951306, 27.1883735852)):
            Circle(SKETCH010_R)
        with Locations((-55.2066048694, 27.1883735852)):
            Circle(SKETCH010_R)
        with Locations((-61.6991349462, 35.3297487925)):
            Circle(SKETCH010_R)
        with Locations((-59.3819777896, 45.4818776223)):
            Circle(SKETCH010_R)
        with Locations((-46.7458719566, 44.7572665093)):
            Circle(SKETCH010_R)
        with Locations((-42.6880406586, 39.6689070047)):
            Circle(SKETCH010_R)
        with Locations((-44.1362638815, 33.3238264861)):
            Circle(SKETCH010_R)
        with Locations((-50, 30.5)):
            Circle(SKETCH010_R)
        with Locations((-55.8637361185, 33.3238264861)):
            Circle(SKETCH010_R)
        with Locations((-57.3119593414, 39.6689070047)):
            Circle(SKETCH010_R)
        with Locations((-53.2541280434, 44.7572665093)):
            Circle(SKETCH010_R)
        with Locations((-50, 38)):
            Circle(SKETCH010_R)
    extrude(amount=-HOLE003_DEPTH, mode=Mode.SUBTRACT)


solid = part.part
